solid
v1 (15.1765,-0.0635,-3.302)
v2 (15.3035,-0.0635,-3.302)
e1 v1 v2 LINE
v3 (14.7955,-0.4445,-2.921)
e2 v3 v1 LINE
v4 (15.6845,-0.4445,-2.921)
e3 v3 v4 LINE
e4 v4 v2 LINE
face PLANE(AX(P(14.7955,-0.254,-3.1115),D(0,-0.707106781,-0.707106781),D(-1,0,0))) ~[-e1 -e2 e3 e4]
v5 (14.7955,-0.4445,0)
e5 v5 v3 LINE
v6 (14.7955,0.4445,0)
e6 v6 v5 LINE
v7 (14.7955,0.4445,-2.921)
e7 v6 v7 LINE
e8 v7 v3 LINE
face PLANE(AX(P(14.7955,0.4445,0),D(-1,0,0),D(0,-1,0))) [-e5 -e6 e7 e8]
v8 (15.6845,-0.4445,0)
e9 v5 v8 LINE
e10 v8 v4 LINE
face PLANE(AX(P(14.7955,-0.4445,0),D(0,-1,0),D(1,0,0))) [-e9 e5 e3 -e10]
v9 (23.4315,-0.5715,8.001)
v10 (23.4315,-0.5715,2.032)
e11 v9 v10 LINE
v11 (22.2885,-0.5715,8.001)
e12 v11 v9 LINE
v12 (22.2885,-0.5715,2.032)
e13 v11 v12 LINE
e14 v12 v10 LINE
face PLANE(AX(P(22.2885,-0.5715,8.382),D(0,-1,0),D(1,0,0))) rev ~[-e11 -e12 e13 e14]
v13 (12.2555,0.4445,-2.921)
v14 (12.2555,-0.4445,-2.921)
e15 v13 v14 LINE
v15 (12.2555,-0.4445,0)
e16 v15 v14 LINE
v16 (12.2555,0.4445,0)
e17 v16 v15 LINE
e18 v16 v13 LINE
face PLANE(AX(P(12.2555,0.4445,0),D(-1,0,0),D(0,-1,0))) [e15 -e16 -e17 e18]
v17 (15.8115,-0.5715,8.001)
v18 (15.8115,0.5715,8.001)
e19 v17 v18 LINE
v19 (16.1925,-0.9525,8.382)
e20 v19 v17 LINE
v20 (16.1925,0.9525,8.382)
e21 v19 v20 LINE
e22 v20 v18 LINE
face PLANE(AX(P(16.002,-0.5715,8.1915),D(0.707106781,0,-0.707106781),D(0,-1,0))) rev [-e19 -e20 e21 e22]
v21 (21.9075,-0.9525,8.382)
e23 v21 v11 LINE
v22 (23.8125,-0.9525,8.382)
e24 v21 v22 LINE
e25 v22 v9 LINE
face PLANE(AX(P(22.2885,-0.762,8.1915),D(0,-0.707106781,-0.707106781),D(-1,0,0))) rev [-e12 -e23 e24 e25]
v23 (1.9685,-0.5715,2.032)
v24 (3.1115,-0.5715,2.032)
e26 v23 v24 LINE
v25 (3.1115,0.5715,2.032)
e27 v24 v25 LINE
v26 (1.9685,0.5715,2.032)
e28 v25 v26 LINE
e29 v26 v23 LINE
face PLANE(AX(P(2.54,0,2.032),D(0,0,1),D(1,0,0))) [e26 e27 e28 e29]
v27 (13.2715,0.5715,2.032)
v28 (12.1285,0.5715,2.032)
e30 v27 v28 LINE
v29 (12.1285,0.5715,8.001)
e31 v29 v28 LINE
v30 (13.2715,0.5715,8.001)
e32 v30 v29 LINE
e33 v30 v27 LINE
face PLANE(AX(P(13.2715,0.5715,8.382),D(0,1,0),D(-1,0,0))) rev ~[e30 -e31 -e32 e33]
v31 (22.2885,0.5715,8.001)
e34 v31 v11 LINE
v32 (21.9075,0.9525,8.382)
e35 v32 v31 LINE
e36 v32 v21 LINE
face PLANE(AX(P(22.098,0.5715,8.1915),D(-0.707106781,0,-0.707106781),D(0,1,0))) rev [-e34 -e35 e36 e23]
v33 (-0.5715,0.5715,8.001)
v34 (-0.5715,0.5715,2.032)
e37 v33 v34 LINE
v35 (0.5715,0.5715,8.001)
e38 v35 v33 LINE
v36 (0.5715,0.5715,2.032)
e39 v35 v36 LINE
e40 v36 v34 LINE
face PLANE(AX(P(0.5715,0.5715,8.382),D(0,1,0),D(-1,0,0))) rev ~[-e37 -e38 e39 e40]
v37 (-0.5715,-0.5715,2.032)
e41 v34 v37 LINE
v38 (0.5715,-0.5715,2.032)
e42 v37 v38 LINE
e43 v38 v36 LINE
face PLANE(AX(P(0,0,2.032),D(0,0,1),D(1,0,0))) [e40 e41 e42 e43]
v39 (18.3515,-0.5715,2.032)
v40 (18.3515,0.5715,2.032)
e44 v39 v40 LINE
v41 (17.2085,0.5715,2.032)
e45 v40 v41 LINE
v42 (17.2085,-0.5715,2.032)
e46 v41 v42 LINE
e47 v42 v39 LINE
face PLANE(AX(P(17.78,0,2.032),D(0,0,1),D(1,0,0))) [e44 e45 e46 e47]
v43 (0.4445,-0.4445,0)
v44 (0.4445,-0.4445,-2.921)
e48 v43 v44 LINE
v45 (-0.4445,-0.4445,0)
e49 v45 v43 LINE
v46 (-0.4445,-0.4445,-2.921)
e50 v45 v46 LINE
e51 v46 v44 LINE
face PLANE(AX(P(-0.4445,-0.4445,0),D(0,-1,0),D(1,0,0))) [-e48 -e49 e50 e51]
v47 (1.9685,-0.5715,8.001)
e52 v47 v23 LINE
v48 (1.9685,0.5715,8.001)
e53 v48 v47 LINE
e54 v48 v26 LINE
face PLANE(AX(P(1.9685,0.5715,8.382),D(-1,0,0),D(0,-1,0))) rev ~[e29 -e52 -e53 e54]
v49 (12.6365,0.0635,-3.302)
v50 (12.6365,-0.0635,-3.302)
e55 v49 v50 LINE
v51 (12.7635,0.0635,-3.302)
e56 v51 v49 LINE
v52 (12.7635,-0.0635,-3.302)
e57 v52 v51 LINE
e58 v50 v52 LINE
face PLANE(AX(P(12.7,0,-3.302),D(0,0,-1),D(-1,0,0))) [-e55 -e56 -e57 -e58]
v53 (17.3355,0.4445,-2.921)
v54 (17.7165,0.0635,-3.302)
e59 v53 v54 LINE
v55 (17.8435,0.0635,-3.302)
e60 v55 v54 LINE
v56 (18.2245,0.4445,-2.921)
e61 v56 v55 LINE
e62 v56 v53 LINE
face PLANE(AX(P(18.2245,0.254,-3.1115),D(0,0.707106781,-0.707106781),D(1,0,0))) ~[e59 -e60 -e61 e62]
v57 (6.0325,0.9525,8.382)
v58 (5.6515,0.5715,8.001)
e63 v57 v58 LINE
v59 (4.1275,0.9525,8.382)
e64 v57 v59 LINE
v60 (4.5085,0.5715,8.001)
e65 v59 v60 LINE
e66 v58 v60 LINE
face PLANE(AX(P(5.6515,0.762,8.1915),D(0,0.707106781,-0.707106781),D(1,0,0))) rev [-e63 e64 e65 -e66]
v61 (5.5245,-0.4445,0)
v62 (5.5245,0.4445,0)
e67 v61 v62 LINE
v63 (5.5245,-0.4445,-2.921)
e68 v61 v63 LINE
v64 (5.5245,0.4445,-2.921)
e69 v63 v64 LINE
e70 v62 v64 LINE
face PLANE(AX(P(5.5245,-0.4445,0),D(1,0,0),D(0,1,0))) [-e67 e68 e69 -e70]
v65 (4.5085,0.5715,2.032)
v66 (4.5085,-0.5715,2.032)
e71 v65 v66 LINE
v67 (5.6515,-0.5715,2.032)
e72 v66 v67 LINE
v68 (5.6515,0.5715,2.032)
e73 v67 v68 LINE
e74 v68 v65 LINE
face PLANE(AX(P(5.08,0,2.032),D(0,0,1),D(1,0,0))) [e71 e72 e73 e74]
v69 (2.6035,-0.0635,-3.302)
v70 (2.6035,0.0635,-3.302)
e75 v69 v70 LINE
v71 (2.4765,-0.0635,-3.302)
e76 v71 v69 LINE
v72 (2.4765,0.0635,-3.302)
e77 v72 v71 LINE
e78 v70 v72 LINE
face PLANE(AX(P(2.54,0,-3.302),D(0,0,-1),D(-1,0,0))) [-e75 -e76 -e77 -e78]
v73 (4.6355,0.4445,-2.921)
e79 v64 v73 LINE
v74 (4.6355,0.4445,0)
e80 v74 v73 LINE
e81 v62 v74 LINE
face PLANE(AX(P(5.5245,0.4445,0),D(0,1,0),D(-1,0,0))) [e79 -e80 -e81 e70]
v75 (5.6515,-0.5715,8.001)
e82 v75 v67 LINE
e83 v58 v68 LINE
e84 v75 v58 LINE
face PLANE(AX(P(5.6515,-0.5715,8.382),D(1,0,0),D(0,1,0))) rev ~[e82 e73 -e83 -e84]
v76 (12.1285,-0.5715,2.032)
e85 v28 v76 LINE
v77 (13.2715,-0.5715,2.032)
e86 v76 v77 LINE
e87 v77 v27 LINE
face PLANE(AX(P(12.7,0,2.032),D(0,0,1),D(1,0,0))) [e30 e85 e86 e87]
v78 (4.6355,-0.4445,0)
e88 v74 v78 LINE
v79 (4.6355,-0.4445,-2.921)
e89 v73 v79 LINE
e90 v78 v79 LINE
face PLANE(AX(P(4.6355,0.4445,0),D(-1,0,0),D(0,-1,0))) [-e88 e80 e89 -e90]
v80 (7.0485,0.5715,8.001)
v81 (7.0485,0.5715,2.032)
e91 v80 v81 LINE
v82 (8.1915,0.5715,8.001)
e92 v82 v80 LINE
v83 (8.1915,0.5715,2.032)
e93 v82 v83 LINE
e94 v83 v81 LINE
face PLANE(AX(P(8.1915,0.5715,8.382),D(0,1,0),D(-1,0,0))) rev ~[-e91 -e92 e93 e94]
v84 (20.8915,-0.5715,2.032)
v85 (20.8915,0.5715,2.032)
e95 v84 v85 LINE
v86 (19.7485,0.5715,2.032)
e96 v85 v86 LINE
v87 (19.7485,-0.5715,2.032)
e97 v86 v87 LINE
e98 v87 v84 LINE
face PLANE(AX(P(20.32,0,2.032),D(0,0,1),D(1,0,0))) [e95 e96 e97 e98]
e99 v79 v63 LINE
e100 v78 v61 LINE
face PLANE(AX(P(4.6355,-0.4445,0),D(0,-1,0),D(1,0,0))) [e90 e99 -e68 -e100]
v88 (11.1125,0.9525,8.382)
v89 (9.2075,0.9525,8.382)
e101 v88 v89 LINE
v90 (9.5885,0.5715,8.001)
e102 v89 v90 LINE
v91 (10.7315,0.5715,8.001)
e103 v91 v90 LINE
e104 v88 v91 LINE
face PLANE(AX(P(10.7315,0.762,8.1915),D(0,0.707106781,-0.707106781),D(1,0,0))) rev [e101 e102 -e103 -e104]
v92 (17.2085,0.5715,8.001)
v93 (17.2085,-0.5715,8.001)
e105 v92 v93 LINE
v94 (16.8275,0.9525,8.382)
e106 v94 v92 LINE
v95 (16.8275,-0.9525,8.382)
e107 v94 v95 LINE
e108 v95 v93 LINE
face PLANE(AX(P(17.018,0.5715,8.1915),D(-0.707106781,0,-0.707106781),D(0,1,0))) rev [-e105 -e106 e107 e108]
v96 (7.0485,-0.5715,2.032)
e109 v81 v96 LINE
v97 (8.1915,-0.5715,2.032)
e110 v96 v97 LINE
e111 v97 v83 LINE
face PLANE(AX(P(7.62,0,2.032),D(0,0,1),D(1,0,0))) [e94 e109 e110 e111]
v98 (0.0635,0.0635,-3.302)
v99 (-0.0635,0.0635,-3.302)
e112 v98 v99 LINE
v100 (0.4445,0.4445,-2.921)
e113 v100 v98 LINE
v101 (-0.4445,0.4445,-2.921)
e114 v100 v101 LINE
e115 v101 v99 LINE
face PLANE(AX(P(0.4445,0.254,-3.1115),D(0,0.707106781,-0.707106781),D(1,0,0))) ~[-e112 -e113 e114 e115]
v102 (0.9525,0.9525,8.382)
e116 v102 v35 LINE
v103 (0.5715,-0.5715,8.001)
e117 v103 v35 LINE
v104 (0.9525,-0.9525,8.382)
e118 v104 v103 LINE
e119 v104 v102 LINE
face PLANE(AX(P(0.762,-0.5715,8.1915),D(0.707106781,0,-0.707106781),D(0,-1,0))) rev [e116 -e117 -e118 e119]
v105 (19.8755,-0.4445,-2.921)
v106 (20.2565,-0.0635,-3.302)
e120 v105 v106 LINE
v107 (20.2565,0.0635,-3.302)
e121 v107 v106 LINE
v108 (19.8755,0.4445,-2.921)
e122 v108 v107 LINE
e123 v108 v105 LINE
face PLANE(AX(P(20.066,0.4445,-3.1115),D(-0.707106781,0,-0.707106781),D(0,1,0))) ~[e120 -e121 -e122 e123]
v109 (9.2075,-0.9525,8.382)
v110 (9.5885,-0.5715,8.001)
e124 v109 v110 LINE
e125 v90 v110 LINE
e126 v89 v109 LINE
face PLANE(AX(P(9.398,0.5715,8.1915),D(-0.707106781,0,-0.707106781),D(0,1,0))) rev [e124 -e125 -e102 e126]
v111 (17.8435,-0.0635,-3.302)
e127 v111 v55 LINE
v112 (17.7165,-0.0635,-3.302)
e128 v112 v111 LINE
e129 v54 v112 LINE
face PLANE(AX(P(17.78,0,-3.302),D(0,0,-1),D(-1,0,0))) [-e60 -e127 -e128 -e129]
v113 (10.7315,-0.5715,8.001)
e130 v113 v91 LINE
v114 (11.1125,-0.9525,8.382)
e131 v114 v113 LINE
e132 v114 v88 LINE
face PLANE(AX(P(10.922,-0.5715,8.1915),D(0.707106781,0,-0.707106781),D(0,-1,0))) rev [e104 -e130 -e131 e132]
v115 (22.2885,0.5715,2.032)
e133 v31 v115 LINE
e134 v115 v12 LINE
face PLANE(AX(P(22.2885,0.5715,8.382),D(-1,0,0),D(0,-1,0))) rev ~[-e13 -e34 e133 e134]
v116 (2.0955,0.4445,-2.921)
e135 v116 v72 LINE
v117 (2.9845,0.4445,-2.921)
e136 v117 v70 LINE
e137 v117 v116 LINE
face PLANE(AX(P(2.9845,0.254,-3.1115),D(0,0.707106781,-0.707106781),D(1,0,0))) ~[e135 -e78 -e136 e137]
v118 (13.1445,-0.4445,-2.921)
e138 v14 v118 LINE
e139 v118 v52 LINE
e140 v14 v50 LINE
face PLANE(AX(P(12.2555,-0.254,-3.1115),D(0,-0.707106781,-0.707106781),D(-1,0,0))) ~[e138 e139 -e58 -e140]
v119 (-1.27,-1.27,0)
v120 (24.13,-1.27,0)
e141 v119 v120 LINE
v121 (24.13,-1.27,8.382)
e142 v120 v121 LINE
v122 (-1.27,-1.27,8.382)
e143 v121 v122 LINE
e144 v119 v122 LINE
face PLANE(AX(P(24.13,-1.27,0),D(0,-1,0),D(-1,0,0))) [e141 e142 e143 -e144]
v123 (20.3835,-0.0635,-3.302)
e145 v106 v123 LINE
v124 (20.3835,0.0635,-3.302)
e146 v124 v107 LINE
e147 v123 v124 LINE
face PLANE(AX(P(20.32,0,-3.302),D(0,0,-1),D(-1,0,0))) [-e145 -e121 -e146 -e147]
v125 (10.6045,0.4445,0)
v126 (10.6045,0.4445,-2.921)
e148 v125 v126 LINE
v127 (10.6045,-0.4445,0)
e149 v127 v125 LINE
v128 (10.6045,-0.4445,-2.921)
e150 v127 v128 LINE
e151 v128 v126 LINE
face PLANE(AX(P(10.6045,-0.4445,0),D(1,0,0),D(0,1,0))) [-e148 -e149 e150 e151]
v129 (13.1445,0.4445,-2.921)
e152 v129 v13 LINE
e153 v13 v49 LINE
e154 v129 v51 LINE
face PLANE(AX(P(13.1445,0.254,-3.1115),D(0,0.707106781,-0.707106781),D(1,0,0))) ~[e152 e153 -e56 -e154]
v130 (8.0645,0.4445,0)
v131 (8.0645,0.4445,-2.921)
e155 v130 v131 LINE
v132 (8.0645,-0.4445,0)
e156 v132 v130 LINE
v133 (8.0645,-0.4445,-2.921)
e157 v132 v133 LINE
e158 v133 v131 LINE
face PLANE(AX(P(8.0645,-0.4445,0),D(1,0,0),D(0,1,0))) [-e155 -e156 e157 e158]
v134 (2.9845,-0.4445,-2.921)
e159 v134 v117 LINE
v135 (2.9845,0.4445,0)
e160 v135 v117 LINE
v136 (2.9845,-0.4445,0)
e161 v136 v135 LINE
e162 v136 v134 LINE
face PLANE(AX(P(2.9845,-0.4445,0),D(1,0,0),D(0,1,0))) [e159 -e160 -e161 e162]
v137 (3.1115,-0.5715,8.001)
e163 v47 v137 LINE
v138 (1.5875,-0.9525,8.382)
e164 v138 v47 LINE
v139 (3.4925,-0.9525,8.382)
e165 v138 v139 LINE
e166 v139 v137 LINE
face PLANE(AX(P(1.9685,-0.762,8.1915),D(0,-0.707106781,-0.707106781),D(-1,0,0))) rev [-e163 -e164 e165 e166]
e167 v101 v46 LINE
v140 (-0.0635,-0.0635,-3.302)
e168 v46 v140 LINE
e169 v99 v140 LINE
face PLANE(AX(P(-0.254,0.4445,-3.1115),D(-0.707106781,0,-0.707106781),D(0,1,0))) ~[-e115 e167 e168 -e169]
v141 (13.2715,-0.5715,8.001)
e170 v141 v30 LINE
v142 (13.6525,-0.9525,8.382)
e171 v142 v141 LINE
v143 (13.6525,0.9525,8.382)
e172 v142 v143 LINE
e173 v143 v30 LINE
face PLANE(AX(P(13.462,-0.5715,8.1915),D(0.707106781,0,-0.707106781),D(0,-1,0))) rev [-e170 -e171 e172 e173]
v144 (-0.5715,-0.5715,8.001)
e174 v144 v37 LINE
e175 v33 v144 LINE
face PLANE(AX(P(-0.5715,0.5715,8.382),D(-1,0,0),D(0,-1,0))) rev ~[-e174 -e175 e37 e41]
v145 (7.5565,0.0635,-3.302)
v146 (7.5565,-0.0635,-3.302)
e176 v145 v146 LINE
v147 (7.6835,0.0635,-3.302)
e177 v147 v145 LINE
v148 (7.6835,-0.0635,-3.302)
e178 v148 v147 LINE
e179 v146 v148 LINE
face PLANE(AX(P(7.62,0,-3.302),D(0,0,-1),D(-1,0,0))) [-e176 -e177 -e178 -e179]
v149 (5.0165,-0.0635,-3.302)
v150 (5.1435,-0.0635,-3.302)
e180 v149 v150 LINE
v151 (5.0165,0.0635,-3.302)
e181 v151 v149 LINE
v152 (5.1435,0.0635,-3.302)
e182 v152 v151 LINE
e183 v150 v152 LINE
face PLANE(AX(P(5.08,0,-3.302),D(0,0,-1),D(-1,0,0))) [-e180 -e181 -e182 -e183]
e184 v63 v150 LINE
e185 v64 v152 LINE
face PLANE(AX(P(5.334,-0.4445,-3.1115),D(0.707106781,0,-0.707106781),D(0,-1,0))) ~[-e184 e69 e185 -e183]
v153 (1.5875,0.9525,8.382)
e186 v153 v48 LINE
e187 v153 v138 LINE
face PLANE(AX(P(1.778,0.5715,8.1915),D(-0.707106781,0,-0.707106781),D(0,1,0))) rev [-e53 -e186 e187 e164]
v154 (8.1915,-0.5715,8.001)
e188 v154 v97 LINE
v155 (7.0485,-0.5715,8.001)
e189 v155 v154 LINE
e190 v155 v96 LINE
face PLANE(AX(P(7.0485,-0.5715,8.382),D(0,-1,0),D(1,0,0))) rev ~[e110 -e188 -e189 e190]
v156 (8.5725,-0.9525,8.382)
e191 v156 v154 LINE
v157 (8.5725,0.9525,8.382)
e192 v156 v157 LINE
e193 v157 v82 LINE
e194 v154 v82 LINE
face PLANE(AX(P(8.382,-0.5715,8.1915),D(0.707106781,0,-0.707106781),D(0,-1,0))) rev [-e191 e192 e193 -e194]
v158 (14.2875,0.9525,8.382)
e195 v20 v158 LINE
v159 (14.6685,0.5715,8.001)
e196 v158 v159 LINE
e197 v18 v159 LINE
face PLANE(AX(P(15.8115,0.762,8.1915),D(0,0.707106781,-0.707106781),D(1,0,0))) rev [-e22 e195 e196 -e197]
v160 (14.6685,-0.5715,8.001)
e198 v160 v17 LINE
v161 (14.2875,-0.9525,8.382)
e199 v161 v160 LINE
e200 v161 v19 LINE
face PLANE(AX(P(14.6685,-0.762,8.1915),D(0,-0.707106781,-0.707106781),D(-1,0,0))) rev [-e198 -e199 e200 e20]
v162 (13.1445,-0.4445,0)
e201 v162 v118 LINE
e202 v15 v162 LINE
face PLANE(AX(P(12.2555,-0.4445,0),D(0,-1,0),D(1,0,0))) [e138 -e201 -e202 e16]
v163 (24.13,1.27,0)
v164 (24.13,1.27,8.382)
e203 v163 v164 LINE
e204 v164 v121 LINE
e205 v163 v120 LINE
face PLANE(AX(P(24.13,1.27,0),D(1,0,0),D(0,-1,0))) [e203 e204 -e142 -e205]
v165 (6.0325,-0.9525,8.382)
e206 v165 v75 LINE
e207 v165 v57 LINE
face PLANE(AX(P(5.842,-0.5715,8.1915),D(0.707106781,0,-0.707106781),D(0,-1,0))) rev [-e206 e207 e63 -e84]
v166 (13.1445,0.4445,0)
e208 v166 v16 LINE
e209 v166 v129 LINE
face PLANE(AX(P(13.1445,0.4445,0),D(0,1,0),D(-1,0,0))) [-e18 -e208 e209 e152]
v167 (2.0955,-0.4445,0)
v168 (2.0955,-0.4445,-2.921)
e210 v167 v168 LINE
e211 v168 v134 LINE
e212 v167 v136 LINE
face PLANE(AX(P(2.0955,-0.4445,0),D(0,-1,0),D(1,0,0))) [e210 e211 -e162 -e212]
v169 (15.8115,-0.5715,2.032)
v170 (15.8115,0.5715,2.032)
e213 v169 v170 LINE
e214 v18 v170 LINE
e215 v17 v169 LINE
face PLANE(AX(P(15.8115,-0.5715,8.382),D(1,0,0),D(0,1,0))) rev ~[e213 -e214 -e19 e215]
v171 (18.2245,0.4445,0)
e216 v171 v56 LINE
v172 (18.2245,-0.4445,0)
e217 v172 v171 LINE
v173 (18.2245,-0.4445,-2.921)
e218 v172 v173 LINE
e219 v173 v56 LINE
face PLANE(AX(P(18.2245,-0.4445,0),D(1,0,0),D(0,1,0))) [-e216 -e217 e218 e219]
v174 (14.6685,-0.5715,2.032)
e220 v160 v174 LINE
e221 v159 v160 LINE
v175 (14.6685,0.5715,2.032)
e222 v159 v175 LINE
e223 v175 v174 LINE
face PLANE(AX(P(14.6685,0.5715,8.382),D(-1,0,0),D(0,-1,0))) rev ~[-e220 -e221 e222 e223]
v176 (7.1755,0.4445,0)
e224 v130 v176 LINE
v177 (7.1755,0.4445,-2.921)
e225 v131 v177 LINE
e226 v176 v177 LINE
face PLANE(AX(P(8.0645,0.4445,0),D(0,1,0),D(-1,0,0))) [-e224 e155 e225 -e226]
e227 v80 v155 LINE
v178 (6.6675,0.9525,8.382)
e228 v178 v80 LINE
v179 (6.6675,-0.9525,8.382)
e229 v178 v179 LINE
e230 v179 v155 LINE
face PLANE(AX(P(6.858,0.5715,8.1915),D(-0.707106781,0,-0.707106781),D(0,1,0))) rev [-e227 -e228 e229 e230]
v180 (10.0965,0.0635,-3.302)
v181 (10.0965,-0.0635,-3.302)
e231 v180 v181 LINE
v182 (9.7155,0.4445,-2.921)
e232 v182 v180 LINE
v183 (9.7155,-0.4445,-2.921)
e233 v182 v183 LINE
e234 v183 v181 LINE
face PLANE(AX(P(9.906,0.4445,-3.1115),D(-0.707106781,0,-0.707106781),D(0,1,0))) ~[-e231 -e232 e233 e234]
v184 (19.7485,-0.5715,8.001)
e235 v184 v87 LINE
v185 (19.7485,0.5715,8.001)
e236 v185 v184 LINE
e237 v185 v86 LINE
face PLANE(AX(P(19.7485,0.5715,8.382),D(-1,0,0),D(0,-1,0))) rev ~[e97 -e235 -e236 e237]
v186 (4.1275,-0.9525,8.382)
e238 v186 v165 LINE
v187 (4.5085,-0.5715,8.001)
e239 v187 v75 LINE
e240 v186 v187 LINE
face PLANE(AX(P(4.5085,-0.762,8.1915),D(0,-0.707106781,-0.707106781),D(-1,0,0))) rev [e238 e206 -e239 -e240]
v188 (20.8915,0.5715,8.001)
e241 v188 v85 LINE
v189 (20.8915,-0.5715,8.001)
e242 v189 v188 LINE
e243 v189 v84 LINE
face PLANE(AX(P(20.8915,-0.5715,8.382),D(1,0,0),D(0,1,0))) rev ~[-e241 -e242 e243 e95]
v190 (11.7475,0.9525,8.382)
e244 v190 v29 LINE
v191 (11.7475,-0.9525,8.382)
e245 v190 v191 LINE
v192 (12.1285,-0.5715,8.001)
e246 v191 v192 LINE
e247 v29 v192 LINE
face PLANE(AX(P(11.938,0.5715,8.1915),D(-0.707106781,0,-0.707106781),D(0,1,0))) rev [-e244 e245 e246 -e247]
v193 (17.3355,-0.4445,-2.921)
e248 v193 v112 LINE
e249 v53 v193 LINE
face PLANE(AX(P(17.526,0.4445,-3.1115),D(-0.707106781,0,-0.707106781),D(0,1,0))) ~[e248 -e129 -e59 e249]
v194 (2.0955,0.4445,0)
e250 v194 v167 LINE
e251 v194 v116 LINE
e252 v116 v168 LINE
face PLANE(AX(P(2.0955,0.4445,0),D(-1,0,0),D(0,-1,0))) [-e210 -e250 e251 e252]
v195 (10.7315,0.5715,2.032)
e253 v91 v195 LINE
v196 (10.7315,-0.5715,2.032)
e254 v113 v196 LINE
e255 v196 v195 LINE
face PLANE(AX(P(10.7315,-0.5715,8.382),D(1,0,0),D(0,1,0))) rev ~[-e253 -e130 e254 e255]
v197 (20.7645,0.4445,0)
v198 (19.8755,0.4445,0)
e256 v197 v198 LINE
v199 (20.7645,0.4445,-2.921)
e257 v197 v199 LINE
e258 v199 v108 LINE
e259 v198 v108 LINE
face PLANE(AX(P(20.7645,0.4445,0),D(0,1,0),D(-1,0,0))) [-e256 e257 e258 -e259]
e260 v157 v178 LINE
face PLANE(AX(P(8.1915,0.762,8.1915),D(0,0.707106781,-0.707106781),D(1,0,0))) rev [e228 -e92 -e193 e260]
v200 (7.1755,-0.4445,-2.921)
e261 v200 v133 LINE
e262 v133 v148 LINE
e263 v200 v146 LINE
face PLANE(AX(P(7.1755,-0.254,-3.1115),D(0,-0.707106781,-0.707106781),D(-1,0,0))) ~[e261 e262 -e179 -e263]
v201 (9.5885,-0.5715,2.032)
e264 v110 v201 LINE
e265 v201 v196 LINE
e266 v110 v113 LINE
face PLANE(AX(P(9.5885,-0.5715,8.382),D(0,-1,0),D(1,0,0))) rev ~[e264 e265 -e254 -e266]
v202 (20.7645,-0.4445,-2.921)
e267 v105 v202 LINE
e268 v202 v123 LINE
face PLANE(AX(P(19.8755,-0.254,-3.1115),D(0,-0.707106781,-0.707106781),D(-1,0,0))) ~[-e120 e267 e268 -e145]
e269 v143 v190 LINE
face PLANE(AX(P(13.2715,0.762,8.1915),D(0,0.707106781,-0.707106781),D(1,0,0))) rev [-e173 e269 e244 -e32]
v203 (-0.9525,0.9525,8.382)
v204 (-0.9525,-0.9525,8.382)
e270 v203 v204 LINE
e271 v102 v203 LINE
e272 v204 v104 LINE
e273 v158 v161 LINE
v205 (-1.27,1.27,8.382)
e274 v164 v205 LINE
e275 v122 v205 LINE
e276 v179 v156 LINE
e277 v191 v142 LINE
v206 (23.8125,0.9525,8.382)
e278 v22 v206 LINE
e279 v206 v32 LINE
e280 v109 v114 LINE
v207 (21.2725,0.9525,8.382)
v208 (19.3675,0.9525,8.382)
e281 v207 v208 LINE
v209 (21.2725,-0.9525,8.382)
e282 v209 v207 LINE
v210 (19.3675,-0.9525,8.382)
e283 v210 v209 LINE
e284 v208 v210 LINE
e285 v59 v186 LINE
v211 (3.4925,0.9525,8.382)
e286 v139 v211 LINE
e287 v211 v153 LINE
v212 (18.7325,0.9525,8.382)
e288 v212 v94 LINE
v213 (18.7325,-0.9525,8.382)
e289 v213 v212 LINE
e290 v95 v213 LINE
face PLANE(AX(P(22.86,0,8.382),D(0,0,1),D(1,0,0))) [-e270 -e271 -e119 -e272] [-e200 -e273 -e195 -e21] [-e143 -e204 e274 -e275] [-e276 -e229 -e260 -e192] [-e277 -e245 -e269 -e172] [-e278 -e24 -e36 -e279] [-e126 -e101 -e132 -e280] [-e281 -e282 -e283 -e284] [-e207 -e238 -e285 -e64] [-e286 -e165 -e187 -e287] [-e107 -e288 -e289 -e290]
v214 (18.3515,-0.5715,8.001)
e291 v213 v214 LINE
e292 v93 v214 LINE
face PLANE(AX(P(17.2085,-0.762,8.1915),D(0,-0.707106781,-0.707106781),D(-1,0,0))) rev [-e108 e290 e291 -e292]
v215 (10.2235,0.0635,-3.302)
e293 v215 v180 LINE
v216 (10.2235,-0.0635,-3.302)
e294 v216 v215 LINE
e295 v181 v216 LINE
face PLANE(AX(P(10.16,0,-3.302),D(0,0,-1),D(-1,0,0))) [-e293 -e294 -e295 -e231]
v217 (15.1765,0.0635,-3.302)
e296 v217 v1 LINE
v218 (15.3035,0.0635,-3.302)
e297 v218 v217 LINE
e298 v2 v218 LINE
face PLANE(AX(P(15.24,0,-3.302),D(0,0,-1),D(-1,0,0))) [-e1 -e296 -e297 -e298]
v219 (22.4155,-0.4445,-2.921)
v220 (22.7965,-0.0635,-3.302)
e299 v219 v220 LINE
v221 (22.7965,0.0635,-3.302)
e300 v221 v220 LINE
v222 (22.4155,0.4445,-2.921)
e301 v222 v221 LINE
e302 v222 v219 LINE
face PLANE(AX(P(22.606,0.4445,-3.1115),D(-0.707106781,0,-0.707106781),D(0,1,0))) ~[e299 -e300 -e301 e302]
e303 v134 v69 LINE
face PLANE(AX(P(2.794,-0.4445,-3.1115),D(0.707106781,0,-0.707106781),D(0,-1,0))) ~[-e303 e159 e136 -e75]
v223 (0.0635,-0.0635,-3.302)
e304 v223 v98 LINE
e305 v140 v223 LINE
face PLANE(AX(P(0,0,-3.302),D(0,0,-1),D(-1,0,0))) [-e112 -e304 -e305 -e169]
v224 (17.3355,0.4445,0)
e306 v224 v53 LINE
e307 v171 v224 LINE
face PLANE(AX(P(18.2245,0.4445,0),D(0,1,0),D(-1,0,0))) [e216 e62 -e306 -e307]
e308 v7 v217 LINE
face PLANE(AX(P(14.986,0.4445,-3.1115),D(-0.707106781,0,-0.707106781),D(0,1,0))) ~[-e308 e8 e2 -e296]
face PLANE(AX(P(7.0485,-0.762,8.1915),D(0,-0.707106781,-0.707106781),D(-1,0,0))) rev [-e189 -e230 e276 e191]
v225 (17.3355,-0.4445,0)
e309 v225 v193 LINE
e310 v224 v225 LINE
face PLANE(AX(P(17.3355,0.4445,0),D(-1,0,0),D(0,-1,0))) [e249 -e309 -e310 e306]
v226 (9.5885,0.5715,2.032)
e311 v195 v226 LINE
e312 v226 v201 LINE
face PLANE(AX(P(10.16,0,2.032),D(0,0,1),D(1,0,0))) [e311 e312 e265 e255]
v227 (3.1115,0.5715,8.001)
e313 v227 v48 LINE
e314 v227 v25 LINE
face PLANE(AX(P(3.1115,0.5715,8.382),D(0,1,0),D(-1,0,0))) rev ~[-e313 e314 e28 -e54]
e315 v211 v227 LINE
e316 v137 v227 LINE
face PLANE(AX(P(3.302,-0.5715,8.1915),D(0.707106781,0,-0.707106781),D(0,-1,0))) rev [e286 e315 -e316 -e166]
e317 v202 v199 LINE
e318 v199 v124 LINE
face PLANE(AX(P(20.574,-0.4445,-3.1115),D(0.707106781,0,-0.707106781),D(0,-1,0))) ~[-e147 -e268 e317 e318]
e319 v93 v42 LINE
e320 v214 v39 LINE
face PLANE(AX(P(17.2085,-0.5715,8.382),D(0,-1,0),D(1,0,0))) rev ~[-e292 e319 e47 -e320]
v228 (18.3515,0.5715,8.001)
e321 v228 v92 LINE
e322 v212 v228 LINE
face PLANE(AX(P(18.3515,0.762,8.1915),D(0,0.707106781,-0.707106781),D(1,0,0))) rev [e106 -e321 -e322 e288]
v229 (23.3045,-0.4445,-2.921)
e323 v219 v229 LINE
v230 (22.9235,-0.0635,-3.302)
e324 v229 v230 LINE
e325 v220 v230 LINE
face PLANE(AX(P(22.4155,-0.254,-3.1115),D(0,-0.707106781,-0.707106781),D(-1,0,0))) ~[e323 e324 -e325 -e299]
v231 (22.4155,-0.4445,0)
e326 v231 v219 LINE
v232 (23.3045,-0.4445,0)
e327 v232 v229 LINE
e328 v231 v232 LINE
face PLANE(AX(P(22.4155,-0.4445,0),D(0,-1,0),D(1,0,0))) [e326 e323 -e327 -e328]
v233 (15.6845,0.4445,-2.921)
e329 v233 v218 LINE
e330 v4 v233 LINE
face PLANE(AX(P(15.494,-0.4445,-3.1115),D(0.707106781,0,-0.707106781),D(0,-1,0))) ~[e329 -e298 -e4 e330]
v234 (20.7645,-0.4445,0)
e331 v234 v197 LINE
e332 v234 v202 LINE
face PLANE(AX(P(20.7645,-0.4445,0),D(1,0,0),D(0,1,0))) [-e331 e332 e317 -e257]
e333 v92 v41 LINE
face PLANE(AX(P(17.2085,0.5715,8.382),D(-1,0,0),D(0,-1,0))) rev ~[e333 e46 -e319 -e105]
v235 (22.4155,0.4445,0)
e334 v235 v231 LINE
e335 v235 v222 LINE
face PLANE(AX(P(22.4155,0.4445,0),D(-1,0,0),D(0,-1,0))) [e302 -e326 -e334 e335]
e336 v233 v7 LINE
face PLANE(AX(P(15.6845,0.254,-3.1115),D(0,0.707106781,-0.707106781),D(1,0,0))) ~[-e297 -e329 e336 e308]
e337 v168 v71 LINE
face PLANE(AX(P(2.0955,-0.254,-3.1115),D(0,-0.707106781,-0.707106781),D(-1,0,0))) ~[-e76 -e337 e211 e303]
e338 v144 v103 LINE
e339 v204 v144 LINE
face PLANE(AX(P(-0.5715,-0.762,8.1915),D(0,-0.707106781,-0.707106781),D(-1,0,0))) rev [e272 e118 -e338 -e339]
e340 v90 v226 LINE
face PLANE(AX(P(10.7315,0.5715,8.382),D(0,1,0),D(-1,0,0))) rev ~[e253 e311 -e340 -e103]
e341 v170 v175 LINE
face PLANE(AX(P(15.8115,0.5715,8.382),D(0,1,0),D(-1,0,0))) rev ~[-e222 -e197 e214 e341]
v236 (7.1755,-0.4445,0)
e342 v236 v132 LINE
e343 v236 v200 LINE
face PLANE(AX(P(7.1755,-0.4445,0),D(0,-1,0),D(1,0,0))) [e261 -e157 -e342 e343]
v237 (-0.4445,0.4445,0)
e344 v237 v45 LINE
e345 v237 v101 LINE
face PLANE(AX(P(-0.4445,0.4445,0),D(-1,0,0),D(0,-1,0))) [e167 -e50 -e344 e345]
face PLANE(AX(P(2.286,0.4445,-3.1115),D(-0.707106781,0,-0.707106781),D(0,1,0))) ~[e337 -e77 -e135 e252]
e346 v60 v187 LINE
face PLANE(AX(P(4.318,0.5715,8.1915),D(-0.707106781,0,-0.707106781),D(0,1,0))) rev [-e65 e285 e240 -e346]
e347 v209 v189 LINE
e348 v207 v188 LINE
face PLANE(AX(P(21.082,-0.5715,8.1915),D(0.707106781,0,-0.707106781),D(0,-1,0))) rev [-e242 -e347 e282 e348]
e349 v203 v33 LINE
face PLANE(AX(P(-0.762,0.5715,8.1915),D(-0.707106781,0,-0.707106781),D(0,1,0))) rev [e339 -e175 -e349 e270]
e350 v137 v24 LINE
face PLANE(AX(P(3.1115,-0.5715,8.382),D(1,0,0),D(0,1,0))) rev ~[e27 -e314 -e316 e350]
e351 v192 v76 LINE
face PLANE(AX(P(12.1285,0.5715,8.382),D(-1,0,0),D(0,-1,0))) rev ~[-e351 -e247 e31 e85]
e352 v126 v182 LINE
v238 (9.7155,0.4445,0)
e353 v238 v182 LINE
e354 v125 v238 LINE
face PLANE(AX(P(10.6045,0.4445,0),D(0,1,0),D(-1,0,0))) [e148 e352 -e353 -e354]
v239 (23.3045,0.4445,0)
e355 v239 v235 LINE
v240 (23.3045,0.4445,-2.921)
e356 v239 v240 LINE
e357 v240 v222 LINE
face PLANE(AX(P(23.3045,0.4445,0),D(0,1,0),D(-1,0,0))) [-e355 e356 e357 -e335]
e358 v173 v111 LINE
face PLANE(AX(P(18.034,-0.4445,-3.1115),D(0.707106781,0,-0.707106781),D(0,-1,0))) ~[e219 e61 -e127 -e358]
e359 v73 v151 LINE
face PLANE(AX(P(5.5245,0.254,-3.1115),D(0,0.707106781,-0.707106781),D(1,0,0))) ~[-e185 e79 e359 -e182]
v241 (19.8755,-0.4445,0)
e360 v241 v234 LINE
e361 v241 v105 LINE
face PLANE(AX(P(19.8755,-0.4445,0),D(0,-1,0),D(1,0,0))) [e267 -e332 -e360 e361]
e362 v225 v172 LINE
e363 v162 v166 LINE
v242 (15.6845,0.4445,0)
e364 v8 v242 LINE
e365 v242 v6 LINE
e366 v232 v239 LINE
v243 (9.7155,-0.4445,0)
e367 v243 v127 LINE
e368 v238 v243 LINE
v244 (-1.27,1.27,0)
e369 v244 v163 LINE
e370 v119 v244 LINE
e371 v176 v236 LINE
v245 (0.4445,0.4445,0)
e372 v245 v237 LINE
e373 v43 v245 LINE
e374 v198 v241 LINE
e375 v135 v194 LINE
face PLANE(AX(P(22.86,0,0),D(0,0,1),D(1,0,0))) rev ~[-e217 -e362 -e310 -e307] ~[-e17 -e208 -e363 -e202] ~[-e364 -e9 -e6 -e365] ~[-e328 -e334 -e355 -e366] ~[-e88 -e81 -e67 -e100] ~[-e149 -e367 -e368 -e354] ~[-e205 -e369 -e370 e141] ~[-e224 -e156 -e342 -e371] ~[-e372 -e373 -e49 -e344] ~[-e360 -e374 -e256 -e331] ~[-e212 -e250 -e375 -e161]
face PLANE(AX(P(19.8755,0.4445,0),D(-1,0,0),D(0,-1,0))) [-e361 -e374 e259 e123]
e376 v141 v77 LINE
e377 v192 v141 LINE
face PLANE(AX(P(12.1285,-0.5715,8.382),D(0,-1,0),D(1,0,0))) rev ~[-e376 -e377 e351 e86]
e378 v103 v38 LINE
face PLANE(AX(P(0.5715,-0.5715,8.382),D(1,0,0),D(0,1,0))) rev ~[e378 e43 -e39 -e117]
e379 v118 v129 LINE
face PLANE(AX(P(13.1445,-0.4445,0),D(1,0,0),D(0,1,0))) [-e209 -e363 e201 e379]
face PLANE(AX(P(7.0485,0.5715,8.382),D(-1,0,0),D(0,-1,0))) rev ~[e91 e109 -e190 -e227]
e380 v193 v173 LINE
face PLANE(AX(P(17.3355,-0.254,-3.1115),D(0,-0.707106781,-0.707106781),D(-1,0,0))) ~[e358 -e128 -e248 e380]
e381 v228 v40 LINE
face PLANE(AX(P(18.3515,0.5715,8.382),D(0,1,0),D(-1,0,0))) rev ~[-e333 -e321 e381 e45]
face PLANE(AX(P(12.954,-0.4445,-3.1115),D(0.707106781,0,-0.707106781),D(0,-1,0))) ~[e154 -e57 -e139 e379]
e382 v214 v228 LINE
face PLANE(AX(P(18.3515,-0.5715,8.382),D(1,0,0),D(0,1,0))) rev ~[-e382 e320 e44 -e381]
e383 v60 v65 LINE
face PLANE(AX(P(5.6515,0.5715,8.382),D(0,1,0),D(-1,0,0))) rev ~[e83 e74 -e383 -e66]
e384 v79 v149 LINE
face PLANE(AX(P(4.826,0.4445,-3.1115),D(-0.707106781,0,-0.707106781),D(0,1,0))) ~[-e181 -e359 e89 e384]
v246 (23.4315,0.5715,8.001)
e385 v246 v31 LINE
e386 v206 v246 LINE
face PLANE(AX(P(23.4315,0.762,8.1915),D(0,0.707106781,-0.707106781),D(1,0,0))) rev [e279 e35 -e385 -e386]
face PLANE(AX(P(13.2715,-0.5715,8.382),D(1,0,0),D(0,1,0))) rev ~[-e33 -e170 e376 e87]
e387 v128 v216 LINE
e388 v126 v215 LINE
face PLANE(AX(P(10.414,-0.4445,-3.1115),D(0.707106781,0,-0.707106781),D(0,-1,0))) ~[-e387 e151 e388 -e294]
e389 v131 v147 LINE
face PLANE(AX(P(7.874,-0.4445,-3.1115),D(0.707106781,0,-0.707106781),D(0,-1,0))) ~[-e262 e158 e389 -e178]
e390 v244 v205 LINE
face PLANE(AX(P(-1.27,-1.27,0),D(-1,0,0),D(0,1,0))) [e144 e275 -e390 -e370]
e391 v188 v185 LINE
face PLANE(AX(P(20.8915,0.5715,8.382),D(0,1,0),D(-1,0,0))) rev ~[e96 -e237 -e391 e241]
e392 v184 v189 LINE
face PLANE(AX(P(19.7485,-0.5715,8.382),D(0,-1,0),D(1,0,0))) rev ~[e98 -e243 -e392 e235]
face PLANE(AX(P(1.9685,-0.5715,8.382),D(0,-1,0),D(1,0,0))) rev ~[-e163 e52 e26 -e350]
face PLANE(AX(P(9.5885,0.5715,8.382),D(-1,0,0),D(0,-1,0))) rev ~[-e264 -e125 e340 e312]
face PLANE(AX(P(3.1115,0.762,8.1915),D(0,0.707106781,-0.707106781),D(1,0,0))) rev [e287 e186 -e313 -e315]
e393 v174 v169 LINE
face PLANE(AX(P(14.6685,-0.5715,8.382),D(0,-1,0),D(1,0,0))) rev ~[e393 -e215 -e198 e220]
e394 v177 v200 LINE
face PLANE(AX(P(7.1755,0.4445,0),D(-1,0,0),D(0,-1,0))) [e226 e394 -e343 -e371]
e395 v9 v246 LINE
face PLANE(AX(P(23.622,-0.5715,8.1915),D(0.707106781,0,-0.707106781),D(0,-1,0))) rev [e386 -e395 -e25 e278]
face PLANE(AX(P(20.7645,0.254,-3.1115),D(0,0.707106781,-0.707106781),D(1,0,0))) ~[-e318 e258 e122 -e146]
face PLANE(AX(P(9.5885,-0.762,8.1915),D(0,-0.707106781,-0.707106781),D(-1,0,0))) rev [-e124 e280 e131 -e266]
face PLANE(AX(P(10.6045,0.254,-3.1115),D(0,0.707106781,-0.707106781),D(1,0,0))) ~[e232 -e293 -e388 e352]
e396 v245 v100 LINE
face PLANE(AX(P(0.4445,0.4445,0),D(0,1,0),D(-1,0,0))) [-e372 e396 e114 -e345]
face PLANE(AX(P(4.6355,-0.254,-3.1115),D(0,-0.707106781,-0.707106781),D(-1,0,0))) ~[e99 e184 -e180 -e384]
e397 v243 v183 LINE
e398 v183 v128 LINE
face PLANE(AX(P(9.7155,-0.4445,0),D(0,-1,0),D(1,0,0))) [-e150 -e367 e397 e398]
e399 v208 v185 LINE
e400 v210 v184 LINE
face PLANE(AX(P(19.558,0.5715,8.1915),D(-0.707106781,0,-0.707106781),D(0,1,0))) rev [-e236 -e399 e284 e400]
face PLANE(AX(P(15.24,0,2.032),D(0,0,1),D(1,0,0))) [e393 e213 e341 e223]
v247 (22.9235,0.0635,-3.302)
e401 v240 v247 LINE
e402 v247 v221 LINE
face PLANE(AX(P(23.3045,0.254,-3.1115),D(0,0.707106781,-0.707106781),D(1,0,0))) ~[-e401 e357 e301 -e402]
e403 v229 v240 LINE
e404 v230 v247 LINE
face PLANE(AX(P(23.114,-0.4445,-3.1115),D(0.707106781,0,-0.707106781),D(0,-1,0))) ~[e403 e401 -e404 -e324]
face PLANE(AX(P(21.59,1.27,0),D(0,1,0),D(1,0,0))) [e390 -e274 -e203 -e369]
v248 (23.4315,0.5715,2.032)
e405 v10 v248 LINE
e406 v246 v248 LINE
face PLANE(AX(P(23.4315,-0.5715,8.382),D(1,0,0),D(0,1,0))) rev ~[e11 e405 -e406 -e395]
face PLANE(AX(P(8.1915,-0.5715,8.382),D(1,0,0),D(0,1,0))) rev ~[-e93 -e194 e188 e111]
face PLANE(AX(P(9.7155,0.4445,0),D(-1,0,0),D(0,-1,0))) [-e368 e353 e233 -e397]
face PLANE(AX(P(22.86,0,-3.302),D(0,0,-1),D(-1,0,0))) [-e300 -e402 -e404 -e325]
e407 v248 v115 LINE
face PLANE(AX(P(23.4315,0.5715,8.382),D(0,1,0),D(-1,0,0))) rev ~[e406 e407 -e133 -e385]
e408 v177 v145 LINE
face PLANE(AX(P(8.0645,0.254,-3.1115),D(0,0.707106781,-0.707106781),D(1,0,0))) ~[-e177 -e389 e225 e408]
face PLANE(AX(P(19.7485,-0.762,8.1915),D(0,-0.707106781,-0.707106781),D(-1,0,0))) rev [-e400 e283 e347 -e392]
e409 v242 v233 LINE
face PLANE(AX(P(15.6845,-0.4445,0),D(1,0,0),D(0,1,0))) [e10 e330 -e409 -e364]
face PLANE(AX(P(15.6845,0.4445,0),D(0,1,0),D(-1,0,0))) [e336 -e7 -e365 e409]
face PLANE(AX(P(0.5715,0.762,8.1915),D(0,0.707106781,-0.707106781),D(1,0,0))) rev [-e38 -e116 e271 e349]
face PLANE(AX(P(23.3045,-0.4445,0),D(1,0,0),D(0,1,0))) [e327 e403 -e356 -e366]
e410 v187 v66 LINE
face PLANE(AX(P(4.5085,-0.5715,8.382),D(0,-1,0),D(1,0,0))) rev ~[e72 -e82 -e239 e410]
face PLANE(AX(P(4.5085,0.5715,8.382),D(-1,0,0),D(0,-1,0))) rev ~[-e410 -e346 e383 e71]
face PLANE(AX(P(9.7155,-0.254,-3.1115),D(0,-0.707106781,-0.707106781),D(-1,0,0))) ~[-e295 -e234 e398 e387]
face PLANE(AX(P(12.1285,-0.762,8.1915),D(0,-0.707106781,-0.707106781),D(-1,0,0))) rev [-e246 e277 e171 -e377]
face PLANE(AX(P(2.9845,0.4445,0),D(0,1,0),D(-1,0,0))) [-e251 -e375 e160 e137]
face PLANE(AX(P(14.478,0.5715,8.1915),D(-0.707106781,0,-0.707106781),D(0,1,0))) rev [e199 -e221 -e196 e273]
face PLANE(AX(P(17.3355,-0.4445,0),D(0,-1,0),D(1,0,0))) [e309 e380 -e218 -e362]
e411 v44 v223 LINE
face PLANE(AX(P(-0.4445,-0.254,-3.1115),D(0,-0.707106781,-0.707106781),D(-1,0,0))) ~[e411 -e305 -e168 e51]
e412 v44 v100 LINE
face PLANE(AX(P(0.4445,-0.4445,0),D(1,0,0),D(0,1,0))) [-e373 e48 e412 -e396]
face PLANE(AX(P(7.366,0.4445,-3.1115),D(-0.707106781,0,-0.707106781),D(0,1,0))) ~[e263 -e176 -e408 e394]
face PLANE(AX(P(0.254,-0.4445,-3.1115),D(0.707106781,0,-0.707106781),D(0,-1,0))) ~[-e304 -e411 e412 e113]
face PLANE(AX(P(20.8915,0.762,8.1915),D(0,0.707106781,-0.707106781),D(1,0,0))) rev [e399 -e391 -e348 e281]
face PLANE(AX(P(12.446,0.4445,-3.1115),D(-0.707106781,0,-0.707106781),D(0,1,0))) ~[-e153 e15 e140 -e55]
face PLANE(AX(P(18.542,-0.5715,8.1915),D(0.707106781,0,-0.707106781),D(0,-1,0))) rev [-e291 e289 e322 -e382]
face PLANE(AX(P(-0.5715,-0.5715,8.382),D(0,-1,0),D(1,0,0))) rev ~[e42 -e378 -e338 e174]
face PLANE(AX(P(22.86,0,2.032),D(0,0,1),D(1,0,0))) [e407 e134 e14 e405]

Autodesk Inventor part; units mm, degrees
ref_plane "YZ Plane" through (0, 0, 0) normal (1, 0, 0) x (0, 1, 0)
ref_plane "XZ Plane" through (0, 0, 0) normal (0, 1, 0) x (-1, 0, 0)
ref_plane "XY Plane" through (0, 0, 0) normal (0, 0, 1) x (1, 0, 0)
sketch "Sketch1" plane through (0, 0, 0) normal (0, 0, 1) x (1, 0, 0)
  line L0 (1.27, -1.27) -> (-1.27, -1.27)
  line L1 (-1.27, -1.27) -> (-1.27, 1.27)
  line L2 (-1.27, 1.27) -> (1.27, 1.27)
  line L3 (1.27, 1.27) -> (1.27, -1.27)
  line L4 (1.27, -1.27) -> (-1.27, 1.27) construction
  line L5 (-1.27, -1.27) -> (1.27, 1.27) construction
  point P0 (0, 0)
  dimension "d0" = 2.54
  dimension "d1" = 2.54
extrude "Extrusion1" add sketch "Sketch1" along normal blind 8.382
sketch "Sketch2" plane through (0, 0, 8.382) normal (0, 0, 1) x (1, 0, 0)
  line L0 (0.5715, 0.5715) -> (-0.5715, 0.5715)
  line L1 (-0.5715, 0.5715) -> (-0.5715, -0.5715)
  line L2 (-0.5715, -0.5715) -> (0.5715, -0.5715)
  line L3 (0.5715, -0.5715) -> (0.5715, 0.5715)
  line L4 (0.5715, 0.5715) -> (-0.5715, -0.5715) construction
  line L5 (-0.5715, 0.5715) -> (0.5715, -0.5715) construction
  point P0 (0, 0)
  dimension "d4" = 1.143
extrude "Extrusion2" cut sketch "Sketch2" against normal blind 6.35
chamfer "Chamfer1" distance 0.381 angle 45 4 edges at (0, 0.5715, 8.382) (-0.5715, 0, 8.382) (0, -0.5715, 8.382) (0.5715, 0, 8.382)
sketch "Sketch3" plane through (0, 0, 0) normal (0, 0, -1) x (-1, 0, 0)
  line L0 (0.4445, -0.4445) -> (-0.4445, -0.4445)
  line L1 (-0.4445, -0.4445) -> (-0.4445, 0.4445)
  line L2 (-0.4445, 0.4445) -> (0.4445, 0.4445)
  line L3 (0.4445, 0.4445) -> (0.4445, -0.4445)
  line L4 (0.4445, -0.4445) -> (-0.4445, 0.4445) construction
  line L5 (-0.4445, -0.4445) -> (0.4445, 0.4445) construction
  point P0 (0, 0)
  dimension "d10" = 0.889
extrude "Extrusion3" add sketch "Sketch3" along normal blind 3.302
chamfer "Chamfer2" distance 0.381 angle 45 4 edges at (0, 0.4445, -3.302) (-0.4445, 0, -3.302) (0, -0.4445, -3.302) (0.4445, 0, -3.302)
pattern_linear "Rectangular Pattern1" count 10 spacing 2.54 along (1, 0, 0) of "Extrusion1", "Extrusion2", "Chamfer1", "Extrusion3", "Chamfer2"
equation "\"d1\" = d0"
properties part number "10 female pin"
